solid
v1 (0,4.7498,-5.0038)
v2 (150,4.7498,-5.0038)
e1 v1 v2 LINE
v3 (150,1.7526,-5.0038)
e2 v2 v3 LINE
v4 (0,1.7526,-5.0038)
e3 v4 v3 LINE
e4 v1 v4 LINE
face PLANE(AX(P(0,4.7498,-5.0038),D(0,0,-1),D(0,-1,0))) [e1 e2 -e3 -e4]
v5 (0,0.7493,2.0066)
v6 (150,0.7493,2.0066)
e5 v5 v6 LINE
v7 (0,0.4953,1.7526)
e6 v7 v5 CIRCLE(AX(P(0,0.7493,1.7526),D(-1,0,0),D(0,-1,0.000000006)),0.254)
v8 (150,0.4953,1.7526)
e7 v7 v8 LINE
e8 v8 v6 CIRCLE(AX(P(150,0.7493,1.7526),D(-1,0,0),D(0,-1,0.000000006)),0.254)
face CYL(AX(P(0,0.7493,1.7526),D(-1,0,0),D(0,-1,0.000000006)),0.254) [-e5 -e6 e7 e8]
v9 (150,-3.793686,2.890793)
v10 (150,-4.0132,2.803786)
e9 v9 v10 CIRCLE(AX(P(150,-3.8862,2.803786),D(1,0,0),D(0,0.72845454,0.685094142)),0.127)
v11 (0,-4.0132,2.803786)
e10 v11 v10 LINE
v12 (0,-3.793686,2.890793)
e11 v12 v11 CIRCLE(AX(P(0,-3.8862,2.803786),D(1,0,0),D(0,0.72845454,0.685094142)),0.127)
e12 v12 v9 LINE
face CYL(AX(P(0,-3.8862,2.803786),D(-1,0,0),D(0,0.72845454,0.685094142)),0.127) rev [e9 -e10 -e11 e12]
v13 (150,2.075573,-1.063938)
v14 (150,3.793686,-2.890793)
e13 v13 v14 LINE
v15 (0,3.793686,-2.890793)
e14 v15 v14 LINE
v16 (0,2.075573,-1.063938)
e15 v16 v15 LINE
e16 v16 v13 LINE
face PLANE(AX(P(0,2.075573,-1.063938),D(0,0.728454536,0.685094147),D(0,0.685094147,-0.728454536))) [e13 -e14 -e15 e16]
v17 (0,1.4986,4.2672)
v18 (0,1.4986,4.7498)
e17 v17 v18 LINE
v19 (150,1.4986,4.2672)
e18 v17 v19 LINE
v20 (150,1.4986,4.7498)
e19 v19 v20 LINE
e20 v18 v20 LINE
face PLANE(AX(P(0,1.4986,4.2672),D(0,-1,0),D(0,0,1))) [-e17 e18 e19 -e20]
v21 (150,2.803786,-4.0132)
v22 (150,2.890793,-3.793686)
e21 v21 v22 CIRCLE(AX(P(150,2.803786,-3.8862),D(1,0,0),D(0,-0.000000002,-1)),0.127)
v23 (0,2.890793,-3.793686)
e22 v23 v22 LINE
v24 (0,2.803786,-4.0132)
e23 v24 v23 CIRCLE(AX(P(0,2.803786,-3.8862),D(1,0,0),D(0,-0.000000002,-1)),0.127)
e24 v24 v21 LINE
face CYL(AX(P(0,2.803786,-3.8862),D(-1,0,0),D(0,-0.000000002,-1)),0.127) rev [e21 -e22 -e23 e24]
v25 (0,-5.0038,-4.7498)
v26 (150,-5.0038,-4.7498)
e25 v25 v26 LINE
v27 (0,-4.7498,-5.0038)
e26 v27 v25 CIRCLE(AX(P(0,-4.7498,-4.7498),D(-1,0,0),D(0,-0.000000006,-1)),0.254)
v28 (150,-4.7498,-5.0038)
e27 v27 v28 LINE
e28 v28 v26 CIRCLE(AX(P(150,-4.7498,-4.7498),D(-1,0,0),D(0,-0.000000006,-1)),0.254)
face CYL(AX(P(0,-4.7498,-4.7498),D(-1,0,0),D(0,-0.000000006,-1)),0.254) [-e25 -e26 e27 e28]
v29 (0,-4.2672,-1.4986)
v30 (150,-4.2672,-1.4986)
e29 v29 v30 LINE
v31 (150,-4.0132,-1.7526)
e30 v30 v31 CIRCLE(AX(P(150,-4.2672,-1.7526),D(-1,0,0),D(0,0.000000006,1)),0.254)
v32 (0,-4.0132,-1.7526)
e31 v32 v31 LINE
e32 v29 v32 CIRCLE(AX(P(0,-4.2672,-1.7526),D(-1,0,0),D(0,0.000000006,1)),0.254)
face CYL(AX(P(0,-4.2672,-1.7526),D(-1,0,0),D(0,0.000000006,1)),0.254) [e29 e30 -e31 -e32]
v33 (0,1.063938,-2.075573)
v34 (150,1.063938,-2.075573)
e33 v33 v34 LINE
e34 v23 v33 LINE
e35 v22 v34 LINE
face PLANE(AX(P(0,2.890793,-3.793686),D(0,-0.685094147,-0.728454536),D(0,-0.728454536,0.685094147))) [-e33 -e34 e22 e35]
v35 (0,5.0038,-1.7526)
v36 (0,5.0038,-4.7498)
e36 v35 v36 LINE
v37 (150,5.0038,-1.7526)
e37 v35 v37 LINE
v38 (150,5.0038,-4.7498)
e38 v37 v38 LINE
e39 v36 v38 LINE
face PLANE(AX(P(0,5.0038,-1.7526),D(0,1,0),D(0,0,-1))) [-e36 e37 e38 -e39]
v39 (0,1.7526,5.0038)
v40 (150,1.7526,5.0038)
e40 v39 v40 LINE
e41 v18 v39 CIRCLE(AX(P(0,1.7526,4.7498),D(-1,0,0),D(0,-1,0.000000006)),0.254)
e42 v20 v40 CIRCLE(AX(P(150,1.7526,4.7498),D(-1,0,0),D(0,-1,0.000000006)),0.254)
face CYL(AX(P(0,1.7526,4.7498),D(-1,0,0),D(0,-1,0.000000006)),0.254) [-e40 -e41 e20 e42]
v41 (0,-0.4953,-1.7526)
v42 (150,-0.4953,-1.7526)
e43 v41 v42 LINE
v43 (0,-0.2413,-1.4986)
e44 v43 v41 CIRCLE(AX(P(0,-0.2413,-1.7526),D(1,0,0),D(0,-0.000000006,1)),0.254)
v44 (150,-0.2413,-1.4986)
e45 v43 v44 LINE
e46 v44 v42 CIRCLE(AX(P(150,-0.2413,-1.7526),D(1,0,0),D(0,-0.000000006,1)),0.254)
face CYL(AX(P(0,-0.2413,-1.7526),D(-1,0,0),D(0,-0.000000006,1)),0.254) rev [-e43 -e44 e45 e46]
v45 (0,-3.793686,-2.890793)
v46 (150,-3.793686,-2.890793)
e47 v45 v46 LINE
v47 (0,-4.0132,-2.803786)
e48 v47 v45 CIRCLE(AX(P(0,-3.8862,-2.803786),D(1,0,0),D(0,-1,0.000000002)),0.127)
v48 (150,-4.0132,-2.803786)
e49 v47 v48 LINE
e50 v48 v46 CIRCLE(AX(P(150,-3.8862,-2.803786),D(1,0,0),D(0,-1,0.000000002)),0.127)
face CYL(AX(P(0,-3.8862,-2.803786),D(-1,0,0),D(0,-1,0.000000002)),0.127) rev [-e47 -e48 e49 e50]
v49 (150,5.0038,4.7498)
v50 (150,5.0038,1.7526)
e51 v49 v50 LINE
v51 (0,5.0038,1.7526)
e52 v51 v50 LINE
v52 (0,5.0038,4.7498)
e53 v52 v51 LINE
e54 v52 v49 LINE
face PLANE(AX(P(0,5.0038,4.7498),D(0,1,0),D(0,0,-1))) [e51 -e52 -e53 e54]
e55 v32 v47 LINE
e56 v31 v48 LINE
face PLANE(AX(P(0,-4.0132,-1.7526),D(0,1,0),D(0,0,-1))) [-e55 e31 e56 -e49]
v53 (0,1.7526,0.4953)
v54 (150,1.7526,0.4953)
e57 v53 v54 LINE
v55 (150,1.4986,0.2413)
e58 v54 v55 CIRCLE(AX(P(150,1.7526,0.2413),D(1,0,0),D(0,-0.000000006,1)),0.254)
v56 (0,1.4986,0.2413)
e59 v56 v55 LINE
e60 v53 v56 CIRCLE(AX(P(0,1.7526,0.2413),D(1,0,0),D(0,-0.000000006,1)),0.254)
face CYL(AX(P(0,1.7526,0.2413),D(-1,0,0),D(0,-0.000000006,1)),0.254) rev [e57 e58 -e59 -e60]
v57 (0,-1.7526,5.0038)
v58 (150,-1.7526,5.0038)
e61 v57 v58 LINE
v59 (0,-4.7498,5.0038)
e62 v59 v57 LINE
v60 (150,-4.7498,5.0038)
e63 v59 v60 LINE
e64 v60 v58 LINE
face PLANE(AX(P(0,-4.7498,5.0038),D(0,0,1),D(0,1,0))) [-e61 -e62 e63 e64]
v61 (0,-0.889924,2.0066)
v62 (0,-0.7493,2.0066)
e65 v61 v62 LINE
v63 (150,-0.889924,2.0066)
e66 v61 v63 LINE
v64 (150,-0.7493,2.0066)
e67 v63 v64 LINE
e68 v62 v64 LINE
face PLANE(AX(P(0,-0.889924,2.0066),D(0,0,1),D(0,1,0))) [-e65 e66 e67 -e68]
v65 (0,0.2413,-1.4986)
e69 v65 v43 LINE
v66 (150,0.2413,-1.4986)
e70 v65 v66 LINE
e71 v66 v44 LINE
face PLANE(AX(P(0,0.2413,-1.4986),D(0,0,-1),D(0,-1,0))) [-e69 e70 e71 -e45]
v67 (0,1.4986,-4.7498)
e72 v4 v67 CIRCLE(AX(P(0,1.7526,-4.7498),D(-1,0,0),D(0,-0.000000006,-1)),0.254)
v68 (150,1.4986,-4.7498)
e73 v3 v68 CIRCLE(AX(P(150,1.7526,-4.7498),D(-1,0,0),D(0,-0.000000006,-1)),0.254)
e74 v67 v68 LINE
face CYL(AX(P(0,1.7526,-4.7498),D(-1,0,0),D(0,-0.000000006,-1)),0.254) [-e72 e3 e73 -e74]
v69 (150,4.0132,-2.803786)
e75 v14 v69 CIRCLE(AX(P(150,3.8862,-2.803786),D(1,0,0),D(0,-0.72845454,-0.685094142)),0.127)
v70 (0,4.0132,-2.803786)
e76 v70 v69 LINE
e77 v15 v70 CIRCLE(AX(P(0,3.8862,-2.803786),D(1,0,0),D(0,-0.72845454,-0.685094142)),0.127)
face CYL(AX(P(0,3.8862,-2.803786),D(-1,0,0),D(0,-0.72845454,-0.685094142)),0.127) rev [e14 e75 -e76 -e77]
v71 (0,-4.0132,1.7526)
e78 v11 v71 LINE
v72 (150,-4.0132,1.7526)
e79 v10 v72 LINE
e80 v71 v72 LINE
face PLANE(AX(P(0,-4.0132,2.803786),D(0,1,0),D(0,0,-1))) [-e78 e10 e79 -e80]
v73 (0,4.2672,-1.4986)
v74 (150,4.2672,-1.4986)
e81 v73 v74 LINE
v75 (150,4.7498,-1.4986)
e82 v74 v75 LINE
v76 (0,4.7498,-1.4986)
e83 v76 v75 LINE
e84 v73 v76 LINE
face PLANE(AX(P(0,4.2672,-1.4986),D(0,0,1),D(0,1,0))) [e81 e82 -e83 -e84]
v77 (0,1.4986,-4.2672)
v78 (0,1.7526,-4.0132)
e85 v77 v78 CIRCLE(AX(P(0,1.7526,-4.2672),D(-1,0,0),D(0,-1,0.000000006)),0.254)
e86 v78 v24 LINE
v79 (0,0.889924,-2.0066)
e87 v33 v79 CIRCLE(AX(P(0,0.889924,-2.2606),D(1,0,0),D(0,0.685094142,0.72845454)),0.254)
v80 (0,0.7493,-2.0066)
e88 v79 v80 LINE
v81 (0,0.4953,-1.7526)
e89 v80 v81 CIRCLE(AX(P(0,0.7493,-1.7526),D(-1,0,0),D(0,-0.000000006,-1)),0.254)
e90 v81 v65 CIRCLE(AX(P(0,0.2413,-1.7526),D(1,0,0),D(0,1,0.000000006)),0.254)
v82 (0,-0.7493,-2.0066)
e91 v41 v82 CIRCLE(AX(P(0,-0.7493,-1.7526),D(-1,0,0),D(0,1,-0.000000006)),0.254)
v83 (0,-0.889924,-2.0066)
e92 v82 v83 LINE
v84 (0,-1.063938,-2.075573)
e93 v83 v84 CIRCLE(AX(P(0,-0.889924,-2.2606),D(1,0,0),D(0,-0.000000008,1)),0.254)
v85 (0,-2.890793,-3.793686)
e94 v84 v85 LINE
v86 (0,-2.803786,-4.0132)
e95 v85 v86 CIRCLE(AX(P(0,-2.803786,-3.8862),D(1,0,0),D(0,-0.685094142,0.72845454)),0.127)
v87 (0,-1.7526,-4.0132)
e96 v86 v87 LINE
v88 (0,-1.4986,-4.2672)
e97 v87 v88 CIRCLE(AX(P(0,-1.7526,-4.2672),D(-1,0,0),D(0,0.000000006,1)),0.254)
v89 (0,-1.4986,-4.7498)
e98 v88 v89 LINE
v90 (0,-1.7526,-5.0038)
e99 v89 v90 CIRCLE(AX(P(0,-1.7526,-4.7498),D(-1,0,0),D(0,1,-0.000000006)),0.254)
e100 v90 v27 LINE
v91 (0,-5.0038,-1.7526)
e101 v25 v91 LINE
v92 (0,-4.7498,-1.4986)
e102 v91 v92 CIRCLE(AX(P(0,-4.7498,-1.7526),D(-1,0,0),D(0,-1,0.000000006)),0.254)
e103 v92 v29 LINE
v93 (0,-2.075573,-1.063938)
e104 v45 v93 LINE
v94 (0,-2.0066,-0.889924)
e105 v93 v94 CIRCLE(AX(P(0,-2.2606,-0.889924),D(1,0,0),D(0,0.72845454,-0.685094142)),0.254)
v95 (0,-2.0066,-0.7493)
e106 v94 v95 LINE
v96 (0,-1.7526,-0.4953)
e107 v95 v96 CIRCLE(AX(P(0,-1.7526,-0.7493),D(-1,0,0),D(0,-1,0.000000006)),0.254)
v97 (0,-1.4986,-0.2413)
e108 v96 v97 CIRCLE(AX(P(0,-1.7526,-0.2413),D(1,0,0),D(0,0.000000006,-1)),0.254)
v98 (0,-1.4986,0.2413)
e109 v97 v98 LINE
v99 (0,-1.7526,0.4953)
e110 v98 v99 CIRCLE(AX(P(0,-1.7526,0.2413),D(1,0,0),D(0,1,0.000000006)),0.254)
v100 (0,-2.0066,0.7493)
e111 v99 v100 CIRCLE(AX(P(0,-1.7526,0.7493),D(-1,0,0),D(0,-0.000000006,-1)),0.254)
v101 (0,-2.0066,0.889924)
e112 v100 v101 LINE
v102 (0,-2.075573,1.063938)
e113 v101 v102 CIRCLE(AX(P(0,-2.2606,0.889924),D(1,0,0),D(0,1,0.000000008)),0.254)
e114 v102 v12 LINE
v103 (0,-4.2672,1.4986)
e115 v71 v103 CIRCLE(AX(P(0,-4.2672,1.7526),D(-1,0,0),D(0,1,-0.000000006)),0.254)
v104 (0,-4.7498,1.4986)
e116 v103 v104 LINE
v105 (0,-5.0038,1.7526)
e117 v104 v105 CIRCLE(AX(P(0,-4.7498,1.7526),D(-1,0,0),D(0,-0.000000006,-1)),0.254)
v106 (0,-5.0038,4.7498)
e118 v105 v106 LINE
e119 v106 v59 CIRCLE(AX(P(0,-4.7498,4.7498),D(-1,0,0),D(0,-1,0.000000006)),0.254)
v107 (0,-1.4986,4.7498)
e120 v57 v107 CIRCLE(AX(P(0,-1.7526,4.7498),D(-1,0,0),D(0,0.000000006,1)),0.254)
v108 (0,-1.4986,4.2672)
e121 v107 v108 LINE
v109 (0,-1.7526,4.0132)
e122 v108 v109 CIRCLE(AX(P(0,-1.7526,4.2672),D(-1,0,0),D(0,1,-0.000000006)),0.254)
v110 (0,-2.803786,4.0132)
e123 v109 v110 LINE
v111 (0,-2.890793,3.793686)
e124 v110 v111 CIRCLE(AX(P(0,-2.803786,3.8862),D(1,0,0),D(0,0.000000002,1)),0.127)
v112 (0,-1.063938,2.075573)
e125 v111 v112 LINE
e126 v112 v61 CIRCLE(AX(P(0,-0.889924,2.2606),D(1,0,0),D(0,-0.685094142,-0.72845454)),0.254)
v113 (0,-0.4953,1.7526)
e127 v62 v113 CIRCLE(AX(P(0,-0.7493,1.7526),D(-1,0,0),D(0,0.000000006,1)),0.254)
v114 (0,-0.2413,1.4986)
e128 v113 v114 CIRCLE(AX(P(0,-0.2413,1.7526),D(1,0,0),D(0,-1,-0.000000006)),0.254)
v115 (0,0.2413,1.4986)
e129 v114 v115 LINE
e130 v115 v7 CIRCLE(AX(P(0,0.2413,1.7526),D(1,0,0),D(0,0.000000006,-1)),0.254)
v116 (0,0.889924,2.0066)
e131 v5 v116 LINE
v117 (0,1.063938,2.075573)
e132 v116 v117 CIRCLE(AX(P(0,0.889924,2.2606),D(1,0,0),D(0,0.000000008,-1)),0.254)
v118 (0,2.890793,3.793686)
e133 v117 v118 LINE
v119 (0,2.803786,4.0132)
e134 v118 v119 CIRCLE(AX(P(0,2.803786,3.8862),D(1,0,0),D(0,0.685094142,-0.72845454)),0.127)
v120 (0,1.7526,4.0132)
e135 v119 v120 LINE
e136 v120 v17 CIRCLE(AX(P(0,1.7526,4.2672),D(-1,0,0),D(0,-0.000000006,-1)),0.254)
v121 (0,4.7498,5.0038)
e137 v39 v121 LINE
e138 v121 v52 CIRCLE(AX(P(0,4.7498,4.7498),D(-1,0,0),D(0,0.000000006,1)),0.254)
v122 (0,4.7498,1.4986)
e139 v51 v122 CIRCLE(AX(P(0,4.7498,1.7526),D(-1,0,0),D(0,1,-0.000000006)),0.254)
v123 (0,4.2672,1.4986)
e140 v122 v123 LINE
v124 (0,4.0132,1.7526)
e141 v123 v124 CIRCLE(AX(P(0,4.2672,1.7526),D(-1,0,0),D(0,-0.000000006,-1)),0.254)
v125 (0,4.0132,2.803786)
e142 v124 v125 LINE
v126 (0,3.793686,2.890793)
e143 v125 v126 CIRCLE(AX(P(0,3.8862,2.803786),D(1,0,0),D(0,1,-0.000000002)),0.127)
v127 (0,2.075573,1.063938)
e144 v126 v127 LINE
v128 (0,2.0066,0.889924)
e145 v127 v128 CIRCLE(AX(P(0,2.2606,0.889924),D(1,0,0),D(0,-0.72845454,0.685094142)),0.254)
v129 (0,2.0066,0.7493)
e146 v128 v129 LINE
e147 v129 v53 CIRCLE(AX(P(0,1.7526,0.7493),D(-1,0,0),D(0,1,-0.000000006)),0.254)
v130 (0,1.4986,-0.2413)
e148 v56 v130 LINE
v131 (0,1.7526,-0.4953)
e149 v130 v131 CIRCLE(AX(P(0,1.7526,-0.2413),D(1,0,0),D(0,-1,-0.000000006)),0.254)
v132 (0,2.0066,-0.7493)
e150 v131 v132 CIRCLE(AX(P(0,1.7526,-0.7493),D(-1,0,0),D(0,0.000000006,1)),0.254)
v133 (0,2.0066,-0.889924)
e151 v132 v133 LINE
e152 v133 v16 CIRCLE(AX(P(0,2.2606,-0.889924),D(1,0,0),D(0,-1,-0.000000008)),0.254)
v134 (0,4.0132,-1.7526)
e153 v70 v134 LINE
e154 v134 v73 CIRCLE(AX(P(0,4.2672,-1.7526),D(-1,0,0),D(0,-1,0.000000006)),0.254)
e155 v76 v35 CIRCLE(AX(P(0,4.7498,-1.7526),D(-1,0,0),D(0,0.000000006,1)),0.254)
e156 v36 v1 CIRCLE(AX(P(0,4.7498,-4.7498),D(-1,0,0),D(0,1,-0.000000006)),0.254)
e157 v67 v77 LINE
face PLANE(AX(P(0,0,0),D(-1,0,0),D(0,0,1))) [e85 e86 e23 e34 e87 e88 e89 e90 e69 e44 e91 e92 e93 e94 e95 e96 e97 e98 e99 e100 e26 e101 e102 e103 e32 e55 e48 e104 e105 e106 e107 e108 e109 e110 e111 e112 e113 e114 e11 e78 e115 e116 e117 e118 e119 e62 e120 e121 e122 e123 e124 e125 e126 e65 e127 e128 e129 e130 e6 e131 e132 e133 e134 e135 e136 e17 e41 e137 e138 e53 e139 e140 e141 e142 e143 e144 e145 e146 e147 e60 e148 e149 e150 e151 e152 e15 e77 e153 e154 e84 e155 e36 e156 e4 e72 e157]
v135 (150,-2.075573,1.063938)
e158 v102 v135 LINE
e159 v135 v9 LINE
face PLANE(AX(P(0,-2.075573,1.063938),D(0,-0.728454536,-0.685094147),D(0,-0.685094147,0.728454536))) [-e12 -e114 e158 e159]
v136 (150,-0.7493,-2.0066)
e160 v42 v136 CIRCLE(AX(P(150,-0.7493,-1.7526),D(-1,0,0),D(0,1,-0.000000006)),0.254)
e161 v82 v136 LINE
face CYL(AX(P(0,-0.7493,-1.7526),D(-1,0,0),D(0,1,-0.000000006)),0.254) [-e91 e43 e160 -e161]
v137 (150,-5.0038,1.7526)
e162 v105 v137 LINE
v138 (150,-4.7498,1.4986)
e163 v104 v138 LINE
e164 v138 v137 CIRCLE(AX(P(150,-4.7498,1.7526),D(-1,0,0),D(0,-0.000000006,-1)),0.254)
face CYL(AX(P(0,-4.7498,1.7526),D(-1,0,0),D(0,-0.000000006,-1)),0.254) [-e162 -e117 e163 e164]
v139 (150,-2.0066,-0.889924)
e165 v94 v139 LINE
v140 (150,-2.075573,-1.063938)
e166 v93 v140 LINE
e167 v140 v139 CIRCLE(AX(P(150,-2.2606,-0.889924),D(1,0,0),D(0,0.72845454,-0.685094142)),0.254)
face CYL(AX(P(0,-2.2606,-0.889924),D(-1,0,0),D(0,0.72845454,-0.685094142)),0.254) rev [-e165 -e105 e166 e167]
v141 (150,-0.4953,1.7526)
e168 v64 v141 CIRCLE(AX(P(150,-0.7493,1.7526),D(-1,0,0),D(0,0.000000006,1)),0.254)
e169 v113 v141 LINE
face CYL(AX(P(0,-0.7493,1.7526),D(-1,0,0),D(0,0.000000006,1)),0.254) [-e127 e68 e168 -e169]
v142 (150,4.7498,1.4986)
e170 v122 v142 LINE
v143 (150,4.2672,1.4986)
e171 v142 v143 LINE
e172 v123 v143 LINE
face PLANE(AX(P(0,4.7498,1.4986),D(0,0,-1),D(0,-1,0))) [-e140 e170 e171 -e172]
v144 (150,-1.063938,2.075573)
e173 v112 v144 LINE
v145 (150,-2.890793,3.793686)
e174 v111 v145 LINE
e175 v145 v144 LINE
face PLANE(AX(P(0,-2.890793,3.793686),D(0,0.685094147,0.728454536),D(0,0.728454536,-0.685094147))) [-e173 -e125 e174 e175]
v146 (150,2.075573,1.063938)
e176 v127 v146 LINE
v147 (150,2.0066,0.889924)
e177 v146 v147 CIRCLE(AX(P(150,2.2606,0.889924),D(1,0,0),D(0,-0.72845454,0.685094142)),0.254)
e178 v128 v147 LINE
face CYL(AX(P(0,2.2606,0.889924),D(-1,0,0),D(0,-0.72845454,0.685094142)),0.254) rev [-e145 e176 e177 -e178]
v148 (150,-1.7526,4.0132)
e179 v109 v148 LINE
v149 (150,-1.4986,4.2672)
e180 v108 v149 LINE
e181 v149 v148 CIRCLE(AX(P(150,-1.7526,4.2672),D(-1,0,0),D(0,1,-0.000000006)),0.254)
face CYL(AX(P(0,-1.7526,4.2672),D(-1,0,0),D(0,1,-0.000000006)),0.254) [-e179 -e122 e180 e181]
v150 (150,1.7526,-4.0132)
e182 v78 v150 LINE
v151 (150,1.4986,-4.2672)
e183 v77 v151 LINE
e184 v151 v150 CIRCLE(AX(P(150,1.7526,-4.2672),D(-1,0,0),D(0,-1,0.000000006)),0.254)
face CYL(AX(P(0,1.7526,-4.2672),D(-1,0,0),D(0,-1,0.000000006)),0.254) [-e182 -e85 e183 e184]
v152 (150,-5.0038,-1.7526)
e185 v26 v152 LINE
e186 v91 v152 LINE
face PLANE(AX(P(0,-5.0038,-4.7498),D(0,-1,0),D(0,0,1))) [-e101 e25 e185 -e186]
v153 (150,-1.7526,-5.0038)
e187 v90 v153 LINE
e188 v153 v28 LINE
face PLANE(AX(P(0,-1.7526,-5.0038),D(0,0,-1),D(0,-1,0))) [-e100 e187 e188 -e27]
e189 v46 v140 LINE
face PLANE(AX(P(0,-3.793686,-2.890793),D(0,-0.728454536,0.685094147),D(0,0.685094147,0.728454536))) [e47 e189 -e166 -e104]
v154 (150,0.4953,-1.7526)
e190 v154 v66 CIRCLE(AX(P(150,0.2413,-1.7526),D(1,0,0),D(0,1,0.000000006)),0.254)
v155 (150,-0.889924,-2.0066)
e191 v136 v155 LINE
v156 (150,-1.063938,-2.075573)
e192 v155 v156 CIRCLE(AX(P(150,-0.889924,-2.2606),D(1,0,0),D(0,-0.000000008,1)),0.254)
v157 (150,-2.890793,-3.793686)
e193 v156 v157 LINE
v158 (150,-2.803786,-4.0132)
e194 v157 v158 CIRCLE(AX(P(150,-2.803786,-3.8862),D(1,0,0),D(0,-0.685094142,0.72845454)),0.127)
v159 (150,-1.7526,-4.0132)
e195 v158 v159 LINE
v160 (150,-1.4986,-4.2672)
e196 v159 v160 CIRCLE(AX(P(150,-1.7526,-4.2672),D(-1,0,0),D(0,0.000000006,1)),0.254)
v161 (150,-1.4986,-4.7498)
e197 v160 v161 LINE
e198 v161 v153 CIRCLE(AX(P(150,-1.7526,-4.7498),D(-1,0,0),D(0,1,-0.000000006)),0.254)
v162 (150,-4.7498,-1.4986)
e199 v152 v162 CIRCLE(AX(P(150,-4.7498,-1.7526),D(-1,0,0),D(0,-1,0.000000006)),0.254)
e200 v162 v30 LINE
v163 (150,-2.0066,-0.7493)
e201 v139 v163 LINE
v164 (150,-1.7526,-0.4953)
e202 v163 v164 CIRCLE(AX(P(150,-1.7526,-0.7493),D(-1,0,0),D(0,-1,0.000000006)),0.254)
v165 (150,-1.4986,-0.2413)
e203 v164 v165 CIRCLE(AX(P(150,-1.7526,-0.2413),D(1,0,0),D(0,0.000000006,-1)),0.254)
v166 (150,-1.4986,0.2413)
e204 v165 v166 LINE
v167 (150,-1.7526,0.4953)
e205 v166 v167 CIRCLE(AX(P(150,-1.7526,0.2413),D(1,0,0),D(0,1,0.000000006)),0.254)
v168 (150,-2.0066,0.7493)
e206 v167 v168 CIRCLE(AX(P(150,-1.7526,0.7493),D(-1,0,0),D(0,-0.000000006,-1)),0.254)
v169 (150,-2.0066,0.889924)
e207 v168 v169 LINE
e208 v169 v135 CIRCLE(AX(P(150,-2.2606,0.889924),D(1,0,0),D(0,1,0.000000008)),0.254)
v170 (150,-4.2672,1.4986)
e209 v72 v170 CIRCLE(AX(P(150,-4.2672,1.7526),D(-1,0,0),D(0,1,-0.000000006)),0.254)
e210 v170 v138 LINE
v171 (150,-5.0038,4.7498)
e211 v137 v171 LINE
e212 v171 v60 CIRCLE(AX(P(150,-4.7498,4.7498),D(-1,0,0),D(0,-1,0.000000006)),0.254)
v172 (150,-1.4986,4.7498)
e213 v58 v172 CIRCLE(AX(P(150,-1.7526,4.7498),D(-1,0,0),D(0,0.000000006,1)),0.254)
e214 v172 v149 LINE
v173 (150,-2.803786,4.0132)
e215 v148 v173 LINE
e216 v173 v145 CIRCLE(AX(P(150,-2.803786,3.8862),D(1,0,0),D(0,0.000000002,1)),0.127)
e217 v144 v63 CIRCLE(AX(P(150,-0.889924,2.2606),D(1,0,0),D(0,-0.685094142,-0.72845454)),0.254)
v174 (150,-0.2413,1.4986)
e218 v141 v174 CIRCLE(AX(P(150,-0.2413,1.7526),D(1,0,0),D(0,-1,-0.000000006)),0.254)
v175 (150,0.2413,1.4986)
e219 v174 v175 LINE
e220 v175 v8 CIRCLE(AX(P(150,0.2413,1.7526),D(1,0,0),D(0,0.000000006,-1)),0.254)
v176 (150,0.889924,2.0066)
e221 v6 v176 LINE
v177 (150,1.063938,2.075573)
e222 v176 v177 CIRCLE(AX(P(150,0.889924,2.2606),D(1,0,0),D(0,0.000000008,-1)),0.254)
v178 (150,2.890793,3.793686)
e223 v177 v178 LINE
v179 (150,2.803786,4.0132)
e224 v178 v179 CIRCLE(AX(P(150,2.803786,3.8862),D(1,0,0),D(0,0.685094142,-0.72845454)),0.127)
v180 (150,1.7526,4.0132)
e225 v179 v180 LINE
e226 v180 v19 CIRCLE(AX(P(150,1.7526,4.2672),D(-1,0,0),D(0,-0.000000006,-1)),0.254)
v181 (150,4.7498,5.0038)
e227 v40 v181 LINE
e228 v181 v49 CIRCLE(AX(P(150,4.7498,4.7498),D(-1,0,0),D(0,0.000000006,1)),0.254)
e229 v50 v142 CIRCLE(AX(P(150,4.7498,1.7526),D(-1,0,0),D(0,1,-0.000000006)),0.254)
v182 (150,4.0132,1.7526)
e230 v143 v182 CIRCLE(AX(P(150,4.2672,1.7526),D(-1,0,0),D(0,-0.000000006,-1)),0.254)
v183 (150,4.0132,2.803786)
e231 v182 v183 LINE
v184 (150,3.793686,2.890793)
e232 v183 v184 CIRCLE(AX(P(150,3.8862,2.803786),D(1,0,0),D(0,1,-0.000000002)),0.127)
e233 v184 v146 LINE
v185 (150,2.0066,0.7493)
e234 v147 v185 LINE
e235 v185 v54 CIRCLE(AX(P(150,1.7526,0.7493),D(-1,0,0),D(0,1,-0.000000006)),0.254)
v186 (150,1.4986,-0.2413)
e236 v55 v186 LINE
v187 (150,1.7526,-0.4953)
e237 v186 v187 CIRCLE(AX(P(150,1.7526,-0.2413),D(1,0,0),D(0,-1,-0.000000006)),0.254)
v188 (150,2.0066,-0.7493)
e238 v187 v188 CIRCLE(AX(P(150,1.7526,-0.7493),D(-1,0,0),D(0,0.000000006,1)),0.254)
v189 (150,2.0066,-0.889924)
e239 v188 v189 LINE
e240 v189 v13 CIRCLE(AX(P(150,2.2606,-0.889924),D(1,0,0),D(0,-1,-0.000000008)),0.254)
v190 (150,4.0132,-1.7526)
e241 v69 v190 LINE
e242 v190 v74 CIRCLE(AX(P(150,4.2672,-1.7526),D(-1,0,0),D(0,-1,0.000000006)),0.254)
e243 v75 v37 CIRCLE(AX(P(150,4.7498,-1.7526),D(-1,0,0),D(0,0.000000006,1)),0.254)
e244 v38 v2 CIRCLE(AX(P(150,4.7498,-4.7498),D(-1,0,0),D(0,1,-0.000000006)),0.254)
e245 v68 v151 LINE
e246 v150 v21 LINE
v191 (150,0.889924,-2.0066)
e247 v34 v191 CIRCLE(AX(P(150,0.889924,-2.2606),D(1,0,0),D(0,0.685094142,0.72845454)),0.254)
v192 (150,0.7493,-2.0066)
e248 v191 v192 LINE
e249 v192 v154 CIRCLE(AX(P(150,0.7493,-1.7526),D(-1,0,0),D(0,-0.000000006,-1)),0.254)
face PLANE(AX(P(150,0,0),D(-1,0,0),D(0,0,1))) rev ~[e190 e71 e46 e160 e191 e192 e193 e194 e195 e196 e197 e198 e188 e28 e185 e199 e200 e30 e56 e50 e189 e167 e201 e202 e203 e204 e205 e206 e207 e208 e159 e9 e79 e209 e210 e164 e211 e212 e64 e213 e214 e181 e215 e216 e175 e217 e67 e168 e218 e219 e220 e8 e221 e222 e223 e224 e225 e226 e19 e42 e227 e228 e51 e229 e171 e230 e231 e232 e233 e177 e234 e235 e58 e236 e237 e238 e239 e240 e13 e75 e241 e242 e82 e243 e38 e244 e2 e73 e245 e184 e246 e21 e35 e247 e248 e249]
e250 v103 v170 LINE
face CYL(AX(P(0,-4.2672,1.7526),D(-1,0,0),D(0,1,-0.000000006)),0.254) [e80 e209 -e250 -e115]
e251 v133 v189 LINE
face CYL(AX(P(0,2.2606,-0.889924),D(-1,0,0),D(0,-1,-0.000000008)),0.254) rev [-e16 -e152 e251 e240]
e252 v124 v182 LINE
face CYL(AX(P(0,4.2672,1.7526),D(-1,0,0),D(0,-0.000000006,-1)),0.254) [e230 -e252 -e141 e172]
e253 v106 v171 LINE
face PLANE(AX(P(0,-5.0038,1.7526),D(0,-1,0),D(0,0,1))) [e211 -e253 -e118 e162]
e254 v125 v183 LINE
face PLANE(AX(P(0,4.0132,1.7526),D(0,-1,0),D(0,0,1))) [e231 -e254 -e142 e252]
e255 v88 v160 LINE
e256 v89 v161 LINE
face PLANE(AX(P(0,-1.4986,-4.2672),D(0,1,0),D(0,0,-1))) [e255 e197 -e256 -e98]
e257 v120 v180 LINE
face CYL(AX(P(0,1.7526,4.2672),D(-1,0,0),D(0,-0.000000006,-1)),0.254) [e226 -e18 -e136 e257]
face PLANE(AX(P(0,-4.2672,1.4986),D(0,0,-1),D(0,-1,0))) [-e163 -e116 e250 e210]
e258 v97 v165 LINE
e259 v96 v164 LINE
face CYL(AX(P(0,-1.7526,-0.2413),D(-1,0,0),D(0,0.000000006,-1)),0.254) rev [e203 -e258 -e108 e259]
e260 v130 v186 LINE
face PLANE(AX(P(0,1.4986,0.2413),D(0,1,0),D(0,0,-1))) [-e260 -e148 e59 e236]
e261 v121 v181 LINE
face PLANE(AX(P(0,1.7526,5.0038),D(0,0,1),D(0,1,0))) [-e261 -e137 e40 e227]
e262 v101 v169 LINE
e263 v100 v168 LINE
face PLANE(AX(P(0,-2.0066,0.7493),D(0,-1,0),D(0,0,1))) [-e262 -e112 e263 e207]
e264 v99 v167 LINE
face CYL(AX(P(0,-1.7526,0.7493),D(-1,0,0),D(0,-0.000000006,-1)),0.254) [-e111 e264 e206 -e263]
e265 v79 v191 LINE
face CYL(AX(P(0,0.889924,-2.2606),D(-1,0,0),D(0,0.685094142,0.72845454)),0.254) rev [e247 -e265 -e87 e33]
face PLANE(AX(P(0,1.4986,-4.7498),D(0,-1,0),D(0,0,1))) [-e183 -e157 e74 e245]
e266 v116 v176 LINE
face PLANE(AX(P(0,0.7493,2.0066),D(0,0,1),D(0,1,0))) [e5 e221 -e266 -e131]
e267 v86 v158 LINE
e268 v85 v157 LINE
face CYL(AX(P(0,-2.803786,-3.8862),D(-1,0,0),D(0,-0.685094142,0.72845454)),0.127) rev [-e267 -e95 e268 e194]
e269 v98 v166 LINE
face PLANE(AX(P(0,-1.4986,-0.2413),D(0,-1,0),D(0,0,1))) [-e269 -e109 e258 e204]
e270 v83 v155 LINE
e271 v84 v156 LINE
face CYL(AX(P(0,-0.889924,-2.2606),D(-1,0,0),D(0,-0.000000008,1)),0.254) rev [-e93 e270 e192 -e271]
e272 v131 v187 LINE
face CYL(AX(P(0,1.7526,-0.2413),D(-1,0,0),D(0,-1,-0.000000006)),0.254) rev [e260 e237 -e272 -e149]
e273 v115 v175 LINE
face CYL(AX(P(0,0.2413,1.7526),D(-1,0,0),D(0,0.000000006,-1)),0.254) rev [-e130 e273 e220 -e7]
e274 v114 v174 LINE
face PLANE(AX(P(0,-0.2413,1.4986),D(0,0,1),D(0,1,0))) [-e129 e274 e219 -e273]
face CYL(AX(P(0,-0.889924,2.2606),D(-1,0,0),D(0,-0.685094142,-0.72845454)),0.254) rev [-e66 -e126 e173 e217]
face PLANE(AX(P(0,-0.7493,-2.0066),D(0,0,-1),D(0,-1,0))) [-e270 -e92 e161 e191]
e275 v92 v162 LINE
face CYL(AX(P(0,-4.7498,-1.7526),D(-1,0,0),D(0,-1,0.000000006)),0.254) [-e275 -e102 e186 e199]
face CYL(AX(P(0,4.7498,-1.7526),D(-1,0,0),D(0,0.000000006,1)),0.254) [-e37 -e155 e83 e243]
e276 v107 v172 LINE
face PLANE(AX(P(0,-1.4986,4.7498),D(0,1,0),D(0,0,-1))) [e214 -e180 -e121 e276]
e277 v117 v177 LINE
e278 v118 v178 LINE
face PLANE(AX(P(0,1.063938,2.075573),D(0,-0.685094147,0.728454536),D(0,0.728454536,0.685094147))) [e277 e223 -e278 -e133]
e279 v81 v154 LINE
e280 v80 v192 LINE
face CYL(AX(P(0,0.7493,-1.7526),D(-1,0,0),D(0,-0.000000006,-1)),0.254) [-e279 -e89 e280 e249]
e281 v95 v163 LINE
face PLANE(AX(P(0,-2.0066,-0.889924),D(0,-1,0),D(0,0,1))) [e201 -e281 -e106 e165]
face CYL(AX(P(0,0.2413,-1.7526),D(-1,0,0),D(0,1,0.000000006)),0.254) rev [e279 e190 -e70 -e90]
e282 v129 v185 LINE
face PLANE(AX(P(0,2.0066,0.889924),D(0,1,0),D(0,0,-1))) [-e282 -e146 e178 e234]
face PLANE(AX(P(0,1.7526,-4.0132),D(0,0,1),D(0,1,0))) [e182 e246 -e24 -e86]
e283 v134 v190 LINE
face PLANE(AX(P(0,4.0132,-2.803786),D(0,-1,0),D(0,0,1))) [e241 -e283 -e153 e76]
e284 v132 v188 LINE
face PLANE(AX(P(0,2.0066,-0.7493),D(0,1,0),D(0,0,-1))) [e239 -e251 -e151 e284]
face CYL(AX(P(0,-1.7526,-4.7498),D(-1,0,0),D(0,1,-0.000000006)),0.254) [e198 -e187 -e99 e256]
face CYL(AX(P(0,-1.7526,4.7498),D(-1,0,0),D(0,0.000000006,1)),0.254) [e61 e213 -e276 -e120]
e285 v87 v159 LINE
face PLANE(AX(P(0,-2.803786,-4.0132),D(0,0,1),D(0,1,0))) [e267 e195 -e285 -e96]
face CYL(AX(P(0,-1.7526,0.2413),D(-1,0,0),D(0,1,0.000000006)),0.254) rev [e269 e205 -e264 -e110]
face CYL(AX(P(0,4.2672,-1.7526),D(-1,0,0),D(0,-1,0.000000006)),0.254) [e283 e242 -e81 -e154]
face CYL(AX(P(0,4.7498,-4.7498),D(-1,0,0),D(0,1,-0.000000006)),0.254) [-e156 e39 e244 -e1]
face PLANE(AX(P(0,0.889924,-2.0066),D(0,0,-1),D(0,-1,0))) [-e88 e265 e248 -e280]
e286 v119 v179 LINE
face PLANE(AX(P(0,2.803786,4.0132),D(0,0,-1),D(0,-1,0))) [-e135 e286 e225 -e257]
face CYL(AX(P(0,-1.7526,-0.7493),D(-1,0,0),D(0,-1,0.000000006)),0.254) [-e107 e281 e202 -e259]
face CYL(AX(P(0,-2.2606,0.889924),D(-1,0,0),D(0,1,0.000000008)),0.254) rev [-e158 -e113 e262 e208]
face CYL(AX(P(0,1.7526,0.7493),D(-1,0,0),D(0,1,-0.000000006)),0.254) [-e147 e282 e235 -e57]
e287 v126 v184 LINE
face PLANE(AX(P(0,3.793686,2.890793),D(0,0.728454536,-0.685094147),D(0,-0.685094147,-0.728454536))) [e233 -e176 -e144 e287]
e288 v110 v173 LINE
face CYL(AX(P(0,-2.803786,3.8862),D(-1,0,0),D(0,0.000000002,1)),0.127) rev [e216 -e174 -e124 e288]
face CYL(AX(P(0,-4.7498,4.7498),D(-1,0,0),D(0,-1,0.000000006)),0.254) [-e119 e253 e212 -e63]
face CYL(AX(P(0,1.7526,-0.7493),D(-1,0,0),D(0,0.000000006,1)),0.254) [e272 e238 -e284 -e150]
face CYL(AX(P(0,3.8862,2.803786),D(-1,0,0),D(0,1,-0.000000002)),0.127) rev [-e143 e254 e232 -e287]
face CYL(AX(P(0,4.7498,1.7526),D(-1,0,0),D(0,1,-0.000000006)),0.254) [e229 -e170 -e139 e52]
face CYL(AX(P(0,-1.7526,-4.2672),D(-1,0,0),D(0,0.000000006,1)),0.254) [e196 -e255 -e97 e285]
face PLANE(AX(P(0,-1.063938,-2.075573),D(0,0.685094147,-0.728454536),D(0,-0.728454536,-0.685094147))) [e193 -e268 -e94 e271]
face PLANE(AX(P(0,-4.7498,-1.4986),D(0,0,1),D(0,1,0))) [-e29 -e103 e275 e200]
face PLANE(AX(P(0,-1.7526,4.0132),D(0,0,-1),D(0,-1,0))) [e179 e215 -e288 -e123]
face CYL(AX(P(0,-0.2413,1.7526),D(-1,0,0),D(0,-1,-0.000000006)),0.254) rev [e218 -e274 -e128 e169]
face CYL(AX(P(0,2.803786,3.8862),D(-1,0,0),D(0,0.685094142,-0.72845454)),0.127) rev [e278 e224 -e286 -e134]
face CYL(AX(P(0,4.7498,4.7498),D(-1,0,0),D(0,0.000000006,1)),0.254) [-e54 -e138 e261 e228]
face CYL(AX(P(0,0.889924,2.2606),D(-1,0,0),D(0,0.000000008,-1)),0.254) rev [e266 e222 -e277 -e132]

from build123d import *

# Parameters (mm, degrees)
BOSS_EXTRU_1_DEPTH = 150


with BuildPart() as part:
    # Sketch1 → Boss.-Extru.1 (new body)
    with BuildSketch(Plane(origin=(0, 0, 0), x_dir=(0, 0, -1), z_dir=(1, 0, 0))):
        with BuildLine():
            Line((-0.2413, 1.4986), (0.2413, 1.4986))
            ThreePointArc((0.2413, 1.4986), (0.420905122, 1.572994878), (0.4953, 1.7526))
            ThreePointArc((0.4953, 1.7526), (0.569694878, 1.932205122), (0.7493, 2.0066))
            Line((0.7493, 2.0066), (0.889923986, 2.0066))
            ThreePointArc((0.889923986, 2.0066), (0.983516259, 2.024471886), (1.063937899, 2.075572548))
            Line((1.063937899, 2.075572548), (2.890793, 3.793686274))
            ThreePointArc((2.890793, 3.793686274), (2.921850101, 3.932996137), (2.803786044, 4.0132))
            Line((2.803786044, 4.0132), (1.7526, 4.0132))
            ThreePointArc((1.7526, 4.0132), (1.572994878, 4.087594878), (1.4986, 4.2672))
            Line((1.4986, 4.2672), (1.4986, 4.7498))
            ThreePointArc((1.4986, 4.7498), (1.572994878, 4.929405122), (1.7526, 5.0038))
            Line((1.7526, 5.0038), (4.7498, 5.0038))
            ThreePointArc((4.7498, 5.0038), (4.929405122, 4.929405122), (5.0038, 4.7498))
            Line((5.0038, 4.7498), (5.0038, 1.7526))
            ThreePointArc((5.0038, 1.7526), (4.929405122, 1.572994878), (4.7498, 1.4986))
            Line((4.7498, 1.4986), (4.2672, 1.4986))
            ThreePointArc((4.2672, 1.4986), (4.087594878, 1.572994878), (4.0132, 1.7526))
            Line((4.0132, 1.7526), (4.0132, 2.803786044))
            ThreePointArc((4.0132, 2.803786044), (3.932996137, 2.921850101), (3.793686274, 2.890793))
            Line((3.793686274, 2.890793), (2.075572548, 1.063937899))
            ThreePointArc((2.075572548, 1.063937899), (2.024471886, 0.983516259), (2.0066, 0.889923986))
            Line((2.0066, 0.889923986), (2.0066, 0.7493))
            ThreePointArc((2.0066, 0.7493), (1.932205122, 0.569694878), (1.7526, 0.4953))
            ThreePointArc((1.7526, 0.4953), (1.572994878, 0.420905122), (1.4986, 0.2413))
            Line((1.4986, 0.2413), (1.4986, -0.2413))
            ThreePointArc((1.4986, -0.2413), (1.572994878, -0.420905122), (1.7526, -0.4953))
            ThreePointArc((1.7526, -0.4953), (1.932205122, -0.569694878), (2.0066, -0.7493))
            Line((2.0066, -0.7493), (2.0066, -0.889923986))
            ThreePointArc((2.0066, -0.889923986), (2.024471886, -0.983516259), (2.075572548, -1.063937899))
            Line((2.075572548, -1.063937899), (3.793686274, -2.890793))
            ThreePointArc((3.793686274, -2.890793), (3.932996137, -2.921850101), (4.0132, -2.803786044))
            Line((4.0132, -2.803786044), (4.0132, -1.7526))
            ThreePointArc((4.0132, -1.7526), (4.087594878, -1.572994878), (4.2672, -1.4986))
            Line((4.2672, -1.4986), (4.7498, -1.4986))
            ThreePointArc((4.7498, -1.4986), (4.929405122, -1.572994878), (5.0038, -1.7526))
            Line((5.0038, -1.7526), (5.0038, -4.7498))
            ThreePointArc((5.0038, -4.7498), (4.929405122, -4.929405122), (4.7498, -5.0038))
            Line((4.7498, -5.0038), (1.7526, -5.0038))
            ThreePointArc((1.7526, -5.0038), (1.572994878, -4.929405122), (1.4986, -4.7498))
            Line((1.4986, -4.7498), (1.4986, -4.2672))
            ThreePointArc((1.4986, -4.2672), (1.572994878, -4.087594878), (1.7526, -4.0132))
            Line((1.7526, -4.0132), (2.803786044, -4.0132))
            ThreePointArc((2.803786044, -4.0132), (2.921850101, -3.932996137), (2.890793, -3.793686274))
            Line((2.890793, -3.793686274), (1.063937899, -2.075572548))
            ThreePointArc((1.063937899, -2.075572548), (0.983516259, -2.024471886), (0.889923986, -2.0066))
            Line((0.889923986, -2.0066), (0.7493, -2.0066))
            ThreePointArc((0.7493, -2.0066), (0.569694878, -1.932205122), (0.4953, -1.7526))
            ThreePointArc((0.4953, -1.7526), (0.420905122, -1.572994878), (0.2413, -1.4986))
            Line((0.2413, -1.4986), (-0.2413, -1.4986))
            ThreePointArc((-0.2413, -1.4986), (-0.420905122, -1.572994878), (-0.4953, -1.7526))
            ThreePointArc((-0.4953, -1.7526), (-0.569694878, -1.932205122), (-0.7493, -2.0066))
            Line((-0.7493, -2.0066), (-0.889923986, -2.0066))
            ThreePointArc((-0.889923986, -2.0066), (-0.983516259, -2.024471886), (-1.063937899, -2.075572548))
            Line((-1.063937899, -2.075572548), (-2.890793, -3.793686274))
            ThreePointArc((-2.890793, -3.793686274), (-2.921850101, -3.932996137), (-2.803786044, -4.0132))
            Line((-2.803786044, -4.0132), (-1.7526, -4.0132))
            ThreePointArc((-1.7526, -4.0132), (-1.572994878, -4.087594878), (-1.4986, -4.2672))
            Line((-1.4986, -4.2672), (-1.4986, -4.7498))
            ThreePointArc((-1.4986, -4.7498), (-1.572994878, -4.929405122), (-1.7526, -5.0038))
            Line((-1.7526, -5.0038), (-4.7498, -5.0038))
            ThreePointArc((-4.7498, -5.0038), (-4.929405122, -4.929405122), (-5.0038, -4.7498))
            Line((-5.0038, -4.7498), (-5.0038, -1.7526))
            ThreePointArc((-5.0038, -1.7526), (-4.929405122, -1.572994878), (-4.7498, -1.4986))
            Line((-4.7498, -1.4986), (-4.2672, -1.4986))
            ThreePointArc((-4.2672, -1.4986), (-4.087594878, -1.572994878), (-4.0132, -1.7526))
            Line((-4.0132, -1.7526), (-4.0132, -2.803786044))
            ThreePointArc((-4.0132, -2.803786044), (-3.932996137, -2.921850101), (-3.793686274, -2.890793))
            Line((-3.793686274, -2.890793), (-2.075572548, -1.063937899))
            ThreePointArc((-2.075572548, -1.063937899), (-2.024471886, -0.983516259), (-2.0066, -0.889923986))
            Line((-2.0066, -0.889923986), (-2.0066, -0.7493))
            ThreePointArc((-2.0066, -0.7493), (-1.932205122, -0.569694878), (-1.7526, -0.4953))
            ThreePointArc((-1.7526, -0.4953), (-1.572994878, -0.420905122), (-1.4986, -0.2413))
            Line((-1.4986, -0.2413), (-1.4986, 0.2413))
            ThreePointArc((-1.4986, 0.2413), (-1.572994878, 0.420905122), (-1.7526, 0.4953))
            ThreePointArc((-1.7526, 0.4953), (-1.932205122, 0.569694878), (-2.0066, 0.7493))
            Line((-2.0066, 0.7493), (-2.0066, 0.889923986))
            ThreePointArc((-2.0066, 0.889923986), (-2.024471886, 0.983516259), (-2.075572548, 1.063937899))
            Line((-2.075572548, 1.063937899), (-3.793686274, 2.890793))
            ThreePointArc((-3.793686274, 2.890793), (-3.932996137, 2.921850101), (-4.0132, 2.803786044))
            Line((-4.0132, 2.803786044), (-4.0132, 1.7526))
            ThreePointArc((-4.0132, 1.7526), (-4.087594878, 1.572994878), (-4.2672, 1.4986))
            Line((-4.2672, 1.4986), (-4.7498, 1.4986))
            ThreePointArc((-4.7498, 1.4986), (-4.929405122, 1.572994878), (-5.0038, 1.7526))
            Line((-5.0038, 1.7526), (-5.0038, 4.7498))
            ThreePointArc((-5.0038, 4.7498), (-4.929405122, 4.929405122), (-4.7498, 5.0038))
            Line((-4.7498, 5.0038), (-1.7526, 5.0038))
            ThreePointArc((-1.7526, 5.0038), (-1.572994878, 4.929405122), (-1.4986, 4.7498))
            Line((-1.4986, 4.7498), (-1.4986, 4.2672))
            ThreePointArc((-1.4986, 4.2672), (-1.572994878, 4.087594878), (-1.7526, 4.0132))
            Line((-1.7526, 4.0132), (-2.803786044, 4.0132))
            ThreePointArc((-2.803786044, 4.0132), (-2.921850101, 3.932996137), (-2.890793, 3.793686274))
            Line((-2.890793, 3.793686274), (-1.063937899, 2.075572548))
            ThreePointArc((-1.063937899, 2.075572548), (-0.983516259, 2.024471886), (-0.889923986, 2.0066))
            Line((-0.889923986, 2.0066), (-0.7493, 2.0066))
            ThreePointArc((-0.7493, 2.0066), (-0.569694878, 1.932205122), (-0.4953, 1.7526))
            ThreePointArc((-0.4953, 1.7526), (-0.420905122, 1.572994878), (-0.2413, 1.4986))
        make_face()
    extrude(amount=BOSS_EXTRU_1_DEPTH)


solid = part.part
